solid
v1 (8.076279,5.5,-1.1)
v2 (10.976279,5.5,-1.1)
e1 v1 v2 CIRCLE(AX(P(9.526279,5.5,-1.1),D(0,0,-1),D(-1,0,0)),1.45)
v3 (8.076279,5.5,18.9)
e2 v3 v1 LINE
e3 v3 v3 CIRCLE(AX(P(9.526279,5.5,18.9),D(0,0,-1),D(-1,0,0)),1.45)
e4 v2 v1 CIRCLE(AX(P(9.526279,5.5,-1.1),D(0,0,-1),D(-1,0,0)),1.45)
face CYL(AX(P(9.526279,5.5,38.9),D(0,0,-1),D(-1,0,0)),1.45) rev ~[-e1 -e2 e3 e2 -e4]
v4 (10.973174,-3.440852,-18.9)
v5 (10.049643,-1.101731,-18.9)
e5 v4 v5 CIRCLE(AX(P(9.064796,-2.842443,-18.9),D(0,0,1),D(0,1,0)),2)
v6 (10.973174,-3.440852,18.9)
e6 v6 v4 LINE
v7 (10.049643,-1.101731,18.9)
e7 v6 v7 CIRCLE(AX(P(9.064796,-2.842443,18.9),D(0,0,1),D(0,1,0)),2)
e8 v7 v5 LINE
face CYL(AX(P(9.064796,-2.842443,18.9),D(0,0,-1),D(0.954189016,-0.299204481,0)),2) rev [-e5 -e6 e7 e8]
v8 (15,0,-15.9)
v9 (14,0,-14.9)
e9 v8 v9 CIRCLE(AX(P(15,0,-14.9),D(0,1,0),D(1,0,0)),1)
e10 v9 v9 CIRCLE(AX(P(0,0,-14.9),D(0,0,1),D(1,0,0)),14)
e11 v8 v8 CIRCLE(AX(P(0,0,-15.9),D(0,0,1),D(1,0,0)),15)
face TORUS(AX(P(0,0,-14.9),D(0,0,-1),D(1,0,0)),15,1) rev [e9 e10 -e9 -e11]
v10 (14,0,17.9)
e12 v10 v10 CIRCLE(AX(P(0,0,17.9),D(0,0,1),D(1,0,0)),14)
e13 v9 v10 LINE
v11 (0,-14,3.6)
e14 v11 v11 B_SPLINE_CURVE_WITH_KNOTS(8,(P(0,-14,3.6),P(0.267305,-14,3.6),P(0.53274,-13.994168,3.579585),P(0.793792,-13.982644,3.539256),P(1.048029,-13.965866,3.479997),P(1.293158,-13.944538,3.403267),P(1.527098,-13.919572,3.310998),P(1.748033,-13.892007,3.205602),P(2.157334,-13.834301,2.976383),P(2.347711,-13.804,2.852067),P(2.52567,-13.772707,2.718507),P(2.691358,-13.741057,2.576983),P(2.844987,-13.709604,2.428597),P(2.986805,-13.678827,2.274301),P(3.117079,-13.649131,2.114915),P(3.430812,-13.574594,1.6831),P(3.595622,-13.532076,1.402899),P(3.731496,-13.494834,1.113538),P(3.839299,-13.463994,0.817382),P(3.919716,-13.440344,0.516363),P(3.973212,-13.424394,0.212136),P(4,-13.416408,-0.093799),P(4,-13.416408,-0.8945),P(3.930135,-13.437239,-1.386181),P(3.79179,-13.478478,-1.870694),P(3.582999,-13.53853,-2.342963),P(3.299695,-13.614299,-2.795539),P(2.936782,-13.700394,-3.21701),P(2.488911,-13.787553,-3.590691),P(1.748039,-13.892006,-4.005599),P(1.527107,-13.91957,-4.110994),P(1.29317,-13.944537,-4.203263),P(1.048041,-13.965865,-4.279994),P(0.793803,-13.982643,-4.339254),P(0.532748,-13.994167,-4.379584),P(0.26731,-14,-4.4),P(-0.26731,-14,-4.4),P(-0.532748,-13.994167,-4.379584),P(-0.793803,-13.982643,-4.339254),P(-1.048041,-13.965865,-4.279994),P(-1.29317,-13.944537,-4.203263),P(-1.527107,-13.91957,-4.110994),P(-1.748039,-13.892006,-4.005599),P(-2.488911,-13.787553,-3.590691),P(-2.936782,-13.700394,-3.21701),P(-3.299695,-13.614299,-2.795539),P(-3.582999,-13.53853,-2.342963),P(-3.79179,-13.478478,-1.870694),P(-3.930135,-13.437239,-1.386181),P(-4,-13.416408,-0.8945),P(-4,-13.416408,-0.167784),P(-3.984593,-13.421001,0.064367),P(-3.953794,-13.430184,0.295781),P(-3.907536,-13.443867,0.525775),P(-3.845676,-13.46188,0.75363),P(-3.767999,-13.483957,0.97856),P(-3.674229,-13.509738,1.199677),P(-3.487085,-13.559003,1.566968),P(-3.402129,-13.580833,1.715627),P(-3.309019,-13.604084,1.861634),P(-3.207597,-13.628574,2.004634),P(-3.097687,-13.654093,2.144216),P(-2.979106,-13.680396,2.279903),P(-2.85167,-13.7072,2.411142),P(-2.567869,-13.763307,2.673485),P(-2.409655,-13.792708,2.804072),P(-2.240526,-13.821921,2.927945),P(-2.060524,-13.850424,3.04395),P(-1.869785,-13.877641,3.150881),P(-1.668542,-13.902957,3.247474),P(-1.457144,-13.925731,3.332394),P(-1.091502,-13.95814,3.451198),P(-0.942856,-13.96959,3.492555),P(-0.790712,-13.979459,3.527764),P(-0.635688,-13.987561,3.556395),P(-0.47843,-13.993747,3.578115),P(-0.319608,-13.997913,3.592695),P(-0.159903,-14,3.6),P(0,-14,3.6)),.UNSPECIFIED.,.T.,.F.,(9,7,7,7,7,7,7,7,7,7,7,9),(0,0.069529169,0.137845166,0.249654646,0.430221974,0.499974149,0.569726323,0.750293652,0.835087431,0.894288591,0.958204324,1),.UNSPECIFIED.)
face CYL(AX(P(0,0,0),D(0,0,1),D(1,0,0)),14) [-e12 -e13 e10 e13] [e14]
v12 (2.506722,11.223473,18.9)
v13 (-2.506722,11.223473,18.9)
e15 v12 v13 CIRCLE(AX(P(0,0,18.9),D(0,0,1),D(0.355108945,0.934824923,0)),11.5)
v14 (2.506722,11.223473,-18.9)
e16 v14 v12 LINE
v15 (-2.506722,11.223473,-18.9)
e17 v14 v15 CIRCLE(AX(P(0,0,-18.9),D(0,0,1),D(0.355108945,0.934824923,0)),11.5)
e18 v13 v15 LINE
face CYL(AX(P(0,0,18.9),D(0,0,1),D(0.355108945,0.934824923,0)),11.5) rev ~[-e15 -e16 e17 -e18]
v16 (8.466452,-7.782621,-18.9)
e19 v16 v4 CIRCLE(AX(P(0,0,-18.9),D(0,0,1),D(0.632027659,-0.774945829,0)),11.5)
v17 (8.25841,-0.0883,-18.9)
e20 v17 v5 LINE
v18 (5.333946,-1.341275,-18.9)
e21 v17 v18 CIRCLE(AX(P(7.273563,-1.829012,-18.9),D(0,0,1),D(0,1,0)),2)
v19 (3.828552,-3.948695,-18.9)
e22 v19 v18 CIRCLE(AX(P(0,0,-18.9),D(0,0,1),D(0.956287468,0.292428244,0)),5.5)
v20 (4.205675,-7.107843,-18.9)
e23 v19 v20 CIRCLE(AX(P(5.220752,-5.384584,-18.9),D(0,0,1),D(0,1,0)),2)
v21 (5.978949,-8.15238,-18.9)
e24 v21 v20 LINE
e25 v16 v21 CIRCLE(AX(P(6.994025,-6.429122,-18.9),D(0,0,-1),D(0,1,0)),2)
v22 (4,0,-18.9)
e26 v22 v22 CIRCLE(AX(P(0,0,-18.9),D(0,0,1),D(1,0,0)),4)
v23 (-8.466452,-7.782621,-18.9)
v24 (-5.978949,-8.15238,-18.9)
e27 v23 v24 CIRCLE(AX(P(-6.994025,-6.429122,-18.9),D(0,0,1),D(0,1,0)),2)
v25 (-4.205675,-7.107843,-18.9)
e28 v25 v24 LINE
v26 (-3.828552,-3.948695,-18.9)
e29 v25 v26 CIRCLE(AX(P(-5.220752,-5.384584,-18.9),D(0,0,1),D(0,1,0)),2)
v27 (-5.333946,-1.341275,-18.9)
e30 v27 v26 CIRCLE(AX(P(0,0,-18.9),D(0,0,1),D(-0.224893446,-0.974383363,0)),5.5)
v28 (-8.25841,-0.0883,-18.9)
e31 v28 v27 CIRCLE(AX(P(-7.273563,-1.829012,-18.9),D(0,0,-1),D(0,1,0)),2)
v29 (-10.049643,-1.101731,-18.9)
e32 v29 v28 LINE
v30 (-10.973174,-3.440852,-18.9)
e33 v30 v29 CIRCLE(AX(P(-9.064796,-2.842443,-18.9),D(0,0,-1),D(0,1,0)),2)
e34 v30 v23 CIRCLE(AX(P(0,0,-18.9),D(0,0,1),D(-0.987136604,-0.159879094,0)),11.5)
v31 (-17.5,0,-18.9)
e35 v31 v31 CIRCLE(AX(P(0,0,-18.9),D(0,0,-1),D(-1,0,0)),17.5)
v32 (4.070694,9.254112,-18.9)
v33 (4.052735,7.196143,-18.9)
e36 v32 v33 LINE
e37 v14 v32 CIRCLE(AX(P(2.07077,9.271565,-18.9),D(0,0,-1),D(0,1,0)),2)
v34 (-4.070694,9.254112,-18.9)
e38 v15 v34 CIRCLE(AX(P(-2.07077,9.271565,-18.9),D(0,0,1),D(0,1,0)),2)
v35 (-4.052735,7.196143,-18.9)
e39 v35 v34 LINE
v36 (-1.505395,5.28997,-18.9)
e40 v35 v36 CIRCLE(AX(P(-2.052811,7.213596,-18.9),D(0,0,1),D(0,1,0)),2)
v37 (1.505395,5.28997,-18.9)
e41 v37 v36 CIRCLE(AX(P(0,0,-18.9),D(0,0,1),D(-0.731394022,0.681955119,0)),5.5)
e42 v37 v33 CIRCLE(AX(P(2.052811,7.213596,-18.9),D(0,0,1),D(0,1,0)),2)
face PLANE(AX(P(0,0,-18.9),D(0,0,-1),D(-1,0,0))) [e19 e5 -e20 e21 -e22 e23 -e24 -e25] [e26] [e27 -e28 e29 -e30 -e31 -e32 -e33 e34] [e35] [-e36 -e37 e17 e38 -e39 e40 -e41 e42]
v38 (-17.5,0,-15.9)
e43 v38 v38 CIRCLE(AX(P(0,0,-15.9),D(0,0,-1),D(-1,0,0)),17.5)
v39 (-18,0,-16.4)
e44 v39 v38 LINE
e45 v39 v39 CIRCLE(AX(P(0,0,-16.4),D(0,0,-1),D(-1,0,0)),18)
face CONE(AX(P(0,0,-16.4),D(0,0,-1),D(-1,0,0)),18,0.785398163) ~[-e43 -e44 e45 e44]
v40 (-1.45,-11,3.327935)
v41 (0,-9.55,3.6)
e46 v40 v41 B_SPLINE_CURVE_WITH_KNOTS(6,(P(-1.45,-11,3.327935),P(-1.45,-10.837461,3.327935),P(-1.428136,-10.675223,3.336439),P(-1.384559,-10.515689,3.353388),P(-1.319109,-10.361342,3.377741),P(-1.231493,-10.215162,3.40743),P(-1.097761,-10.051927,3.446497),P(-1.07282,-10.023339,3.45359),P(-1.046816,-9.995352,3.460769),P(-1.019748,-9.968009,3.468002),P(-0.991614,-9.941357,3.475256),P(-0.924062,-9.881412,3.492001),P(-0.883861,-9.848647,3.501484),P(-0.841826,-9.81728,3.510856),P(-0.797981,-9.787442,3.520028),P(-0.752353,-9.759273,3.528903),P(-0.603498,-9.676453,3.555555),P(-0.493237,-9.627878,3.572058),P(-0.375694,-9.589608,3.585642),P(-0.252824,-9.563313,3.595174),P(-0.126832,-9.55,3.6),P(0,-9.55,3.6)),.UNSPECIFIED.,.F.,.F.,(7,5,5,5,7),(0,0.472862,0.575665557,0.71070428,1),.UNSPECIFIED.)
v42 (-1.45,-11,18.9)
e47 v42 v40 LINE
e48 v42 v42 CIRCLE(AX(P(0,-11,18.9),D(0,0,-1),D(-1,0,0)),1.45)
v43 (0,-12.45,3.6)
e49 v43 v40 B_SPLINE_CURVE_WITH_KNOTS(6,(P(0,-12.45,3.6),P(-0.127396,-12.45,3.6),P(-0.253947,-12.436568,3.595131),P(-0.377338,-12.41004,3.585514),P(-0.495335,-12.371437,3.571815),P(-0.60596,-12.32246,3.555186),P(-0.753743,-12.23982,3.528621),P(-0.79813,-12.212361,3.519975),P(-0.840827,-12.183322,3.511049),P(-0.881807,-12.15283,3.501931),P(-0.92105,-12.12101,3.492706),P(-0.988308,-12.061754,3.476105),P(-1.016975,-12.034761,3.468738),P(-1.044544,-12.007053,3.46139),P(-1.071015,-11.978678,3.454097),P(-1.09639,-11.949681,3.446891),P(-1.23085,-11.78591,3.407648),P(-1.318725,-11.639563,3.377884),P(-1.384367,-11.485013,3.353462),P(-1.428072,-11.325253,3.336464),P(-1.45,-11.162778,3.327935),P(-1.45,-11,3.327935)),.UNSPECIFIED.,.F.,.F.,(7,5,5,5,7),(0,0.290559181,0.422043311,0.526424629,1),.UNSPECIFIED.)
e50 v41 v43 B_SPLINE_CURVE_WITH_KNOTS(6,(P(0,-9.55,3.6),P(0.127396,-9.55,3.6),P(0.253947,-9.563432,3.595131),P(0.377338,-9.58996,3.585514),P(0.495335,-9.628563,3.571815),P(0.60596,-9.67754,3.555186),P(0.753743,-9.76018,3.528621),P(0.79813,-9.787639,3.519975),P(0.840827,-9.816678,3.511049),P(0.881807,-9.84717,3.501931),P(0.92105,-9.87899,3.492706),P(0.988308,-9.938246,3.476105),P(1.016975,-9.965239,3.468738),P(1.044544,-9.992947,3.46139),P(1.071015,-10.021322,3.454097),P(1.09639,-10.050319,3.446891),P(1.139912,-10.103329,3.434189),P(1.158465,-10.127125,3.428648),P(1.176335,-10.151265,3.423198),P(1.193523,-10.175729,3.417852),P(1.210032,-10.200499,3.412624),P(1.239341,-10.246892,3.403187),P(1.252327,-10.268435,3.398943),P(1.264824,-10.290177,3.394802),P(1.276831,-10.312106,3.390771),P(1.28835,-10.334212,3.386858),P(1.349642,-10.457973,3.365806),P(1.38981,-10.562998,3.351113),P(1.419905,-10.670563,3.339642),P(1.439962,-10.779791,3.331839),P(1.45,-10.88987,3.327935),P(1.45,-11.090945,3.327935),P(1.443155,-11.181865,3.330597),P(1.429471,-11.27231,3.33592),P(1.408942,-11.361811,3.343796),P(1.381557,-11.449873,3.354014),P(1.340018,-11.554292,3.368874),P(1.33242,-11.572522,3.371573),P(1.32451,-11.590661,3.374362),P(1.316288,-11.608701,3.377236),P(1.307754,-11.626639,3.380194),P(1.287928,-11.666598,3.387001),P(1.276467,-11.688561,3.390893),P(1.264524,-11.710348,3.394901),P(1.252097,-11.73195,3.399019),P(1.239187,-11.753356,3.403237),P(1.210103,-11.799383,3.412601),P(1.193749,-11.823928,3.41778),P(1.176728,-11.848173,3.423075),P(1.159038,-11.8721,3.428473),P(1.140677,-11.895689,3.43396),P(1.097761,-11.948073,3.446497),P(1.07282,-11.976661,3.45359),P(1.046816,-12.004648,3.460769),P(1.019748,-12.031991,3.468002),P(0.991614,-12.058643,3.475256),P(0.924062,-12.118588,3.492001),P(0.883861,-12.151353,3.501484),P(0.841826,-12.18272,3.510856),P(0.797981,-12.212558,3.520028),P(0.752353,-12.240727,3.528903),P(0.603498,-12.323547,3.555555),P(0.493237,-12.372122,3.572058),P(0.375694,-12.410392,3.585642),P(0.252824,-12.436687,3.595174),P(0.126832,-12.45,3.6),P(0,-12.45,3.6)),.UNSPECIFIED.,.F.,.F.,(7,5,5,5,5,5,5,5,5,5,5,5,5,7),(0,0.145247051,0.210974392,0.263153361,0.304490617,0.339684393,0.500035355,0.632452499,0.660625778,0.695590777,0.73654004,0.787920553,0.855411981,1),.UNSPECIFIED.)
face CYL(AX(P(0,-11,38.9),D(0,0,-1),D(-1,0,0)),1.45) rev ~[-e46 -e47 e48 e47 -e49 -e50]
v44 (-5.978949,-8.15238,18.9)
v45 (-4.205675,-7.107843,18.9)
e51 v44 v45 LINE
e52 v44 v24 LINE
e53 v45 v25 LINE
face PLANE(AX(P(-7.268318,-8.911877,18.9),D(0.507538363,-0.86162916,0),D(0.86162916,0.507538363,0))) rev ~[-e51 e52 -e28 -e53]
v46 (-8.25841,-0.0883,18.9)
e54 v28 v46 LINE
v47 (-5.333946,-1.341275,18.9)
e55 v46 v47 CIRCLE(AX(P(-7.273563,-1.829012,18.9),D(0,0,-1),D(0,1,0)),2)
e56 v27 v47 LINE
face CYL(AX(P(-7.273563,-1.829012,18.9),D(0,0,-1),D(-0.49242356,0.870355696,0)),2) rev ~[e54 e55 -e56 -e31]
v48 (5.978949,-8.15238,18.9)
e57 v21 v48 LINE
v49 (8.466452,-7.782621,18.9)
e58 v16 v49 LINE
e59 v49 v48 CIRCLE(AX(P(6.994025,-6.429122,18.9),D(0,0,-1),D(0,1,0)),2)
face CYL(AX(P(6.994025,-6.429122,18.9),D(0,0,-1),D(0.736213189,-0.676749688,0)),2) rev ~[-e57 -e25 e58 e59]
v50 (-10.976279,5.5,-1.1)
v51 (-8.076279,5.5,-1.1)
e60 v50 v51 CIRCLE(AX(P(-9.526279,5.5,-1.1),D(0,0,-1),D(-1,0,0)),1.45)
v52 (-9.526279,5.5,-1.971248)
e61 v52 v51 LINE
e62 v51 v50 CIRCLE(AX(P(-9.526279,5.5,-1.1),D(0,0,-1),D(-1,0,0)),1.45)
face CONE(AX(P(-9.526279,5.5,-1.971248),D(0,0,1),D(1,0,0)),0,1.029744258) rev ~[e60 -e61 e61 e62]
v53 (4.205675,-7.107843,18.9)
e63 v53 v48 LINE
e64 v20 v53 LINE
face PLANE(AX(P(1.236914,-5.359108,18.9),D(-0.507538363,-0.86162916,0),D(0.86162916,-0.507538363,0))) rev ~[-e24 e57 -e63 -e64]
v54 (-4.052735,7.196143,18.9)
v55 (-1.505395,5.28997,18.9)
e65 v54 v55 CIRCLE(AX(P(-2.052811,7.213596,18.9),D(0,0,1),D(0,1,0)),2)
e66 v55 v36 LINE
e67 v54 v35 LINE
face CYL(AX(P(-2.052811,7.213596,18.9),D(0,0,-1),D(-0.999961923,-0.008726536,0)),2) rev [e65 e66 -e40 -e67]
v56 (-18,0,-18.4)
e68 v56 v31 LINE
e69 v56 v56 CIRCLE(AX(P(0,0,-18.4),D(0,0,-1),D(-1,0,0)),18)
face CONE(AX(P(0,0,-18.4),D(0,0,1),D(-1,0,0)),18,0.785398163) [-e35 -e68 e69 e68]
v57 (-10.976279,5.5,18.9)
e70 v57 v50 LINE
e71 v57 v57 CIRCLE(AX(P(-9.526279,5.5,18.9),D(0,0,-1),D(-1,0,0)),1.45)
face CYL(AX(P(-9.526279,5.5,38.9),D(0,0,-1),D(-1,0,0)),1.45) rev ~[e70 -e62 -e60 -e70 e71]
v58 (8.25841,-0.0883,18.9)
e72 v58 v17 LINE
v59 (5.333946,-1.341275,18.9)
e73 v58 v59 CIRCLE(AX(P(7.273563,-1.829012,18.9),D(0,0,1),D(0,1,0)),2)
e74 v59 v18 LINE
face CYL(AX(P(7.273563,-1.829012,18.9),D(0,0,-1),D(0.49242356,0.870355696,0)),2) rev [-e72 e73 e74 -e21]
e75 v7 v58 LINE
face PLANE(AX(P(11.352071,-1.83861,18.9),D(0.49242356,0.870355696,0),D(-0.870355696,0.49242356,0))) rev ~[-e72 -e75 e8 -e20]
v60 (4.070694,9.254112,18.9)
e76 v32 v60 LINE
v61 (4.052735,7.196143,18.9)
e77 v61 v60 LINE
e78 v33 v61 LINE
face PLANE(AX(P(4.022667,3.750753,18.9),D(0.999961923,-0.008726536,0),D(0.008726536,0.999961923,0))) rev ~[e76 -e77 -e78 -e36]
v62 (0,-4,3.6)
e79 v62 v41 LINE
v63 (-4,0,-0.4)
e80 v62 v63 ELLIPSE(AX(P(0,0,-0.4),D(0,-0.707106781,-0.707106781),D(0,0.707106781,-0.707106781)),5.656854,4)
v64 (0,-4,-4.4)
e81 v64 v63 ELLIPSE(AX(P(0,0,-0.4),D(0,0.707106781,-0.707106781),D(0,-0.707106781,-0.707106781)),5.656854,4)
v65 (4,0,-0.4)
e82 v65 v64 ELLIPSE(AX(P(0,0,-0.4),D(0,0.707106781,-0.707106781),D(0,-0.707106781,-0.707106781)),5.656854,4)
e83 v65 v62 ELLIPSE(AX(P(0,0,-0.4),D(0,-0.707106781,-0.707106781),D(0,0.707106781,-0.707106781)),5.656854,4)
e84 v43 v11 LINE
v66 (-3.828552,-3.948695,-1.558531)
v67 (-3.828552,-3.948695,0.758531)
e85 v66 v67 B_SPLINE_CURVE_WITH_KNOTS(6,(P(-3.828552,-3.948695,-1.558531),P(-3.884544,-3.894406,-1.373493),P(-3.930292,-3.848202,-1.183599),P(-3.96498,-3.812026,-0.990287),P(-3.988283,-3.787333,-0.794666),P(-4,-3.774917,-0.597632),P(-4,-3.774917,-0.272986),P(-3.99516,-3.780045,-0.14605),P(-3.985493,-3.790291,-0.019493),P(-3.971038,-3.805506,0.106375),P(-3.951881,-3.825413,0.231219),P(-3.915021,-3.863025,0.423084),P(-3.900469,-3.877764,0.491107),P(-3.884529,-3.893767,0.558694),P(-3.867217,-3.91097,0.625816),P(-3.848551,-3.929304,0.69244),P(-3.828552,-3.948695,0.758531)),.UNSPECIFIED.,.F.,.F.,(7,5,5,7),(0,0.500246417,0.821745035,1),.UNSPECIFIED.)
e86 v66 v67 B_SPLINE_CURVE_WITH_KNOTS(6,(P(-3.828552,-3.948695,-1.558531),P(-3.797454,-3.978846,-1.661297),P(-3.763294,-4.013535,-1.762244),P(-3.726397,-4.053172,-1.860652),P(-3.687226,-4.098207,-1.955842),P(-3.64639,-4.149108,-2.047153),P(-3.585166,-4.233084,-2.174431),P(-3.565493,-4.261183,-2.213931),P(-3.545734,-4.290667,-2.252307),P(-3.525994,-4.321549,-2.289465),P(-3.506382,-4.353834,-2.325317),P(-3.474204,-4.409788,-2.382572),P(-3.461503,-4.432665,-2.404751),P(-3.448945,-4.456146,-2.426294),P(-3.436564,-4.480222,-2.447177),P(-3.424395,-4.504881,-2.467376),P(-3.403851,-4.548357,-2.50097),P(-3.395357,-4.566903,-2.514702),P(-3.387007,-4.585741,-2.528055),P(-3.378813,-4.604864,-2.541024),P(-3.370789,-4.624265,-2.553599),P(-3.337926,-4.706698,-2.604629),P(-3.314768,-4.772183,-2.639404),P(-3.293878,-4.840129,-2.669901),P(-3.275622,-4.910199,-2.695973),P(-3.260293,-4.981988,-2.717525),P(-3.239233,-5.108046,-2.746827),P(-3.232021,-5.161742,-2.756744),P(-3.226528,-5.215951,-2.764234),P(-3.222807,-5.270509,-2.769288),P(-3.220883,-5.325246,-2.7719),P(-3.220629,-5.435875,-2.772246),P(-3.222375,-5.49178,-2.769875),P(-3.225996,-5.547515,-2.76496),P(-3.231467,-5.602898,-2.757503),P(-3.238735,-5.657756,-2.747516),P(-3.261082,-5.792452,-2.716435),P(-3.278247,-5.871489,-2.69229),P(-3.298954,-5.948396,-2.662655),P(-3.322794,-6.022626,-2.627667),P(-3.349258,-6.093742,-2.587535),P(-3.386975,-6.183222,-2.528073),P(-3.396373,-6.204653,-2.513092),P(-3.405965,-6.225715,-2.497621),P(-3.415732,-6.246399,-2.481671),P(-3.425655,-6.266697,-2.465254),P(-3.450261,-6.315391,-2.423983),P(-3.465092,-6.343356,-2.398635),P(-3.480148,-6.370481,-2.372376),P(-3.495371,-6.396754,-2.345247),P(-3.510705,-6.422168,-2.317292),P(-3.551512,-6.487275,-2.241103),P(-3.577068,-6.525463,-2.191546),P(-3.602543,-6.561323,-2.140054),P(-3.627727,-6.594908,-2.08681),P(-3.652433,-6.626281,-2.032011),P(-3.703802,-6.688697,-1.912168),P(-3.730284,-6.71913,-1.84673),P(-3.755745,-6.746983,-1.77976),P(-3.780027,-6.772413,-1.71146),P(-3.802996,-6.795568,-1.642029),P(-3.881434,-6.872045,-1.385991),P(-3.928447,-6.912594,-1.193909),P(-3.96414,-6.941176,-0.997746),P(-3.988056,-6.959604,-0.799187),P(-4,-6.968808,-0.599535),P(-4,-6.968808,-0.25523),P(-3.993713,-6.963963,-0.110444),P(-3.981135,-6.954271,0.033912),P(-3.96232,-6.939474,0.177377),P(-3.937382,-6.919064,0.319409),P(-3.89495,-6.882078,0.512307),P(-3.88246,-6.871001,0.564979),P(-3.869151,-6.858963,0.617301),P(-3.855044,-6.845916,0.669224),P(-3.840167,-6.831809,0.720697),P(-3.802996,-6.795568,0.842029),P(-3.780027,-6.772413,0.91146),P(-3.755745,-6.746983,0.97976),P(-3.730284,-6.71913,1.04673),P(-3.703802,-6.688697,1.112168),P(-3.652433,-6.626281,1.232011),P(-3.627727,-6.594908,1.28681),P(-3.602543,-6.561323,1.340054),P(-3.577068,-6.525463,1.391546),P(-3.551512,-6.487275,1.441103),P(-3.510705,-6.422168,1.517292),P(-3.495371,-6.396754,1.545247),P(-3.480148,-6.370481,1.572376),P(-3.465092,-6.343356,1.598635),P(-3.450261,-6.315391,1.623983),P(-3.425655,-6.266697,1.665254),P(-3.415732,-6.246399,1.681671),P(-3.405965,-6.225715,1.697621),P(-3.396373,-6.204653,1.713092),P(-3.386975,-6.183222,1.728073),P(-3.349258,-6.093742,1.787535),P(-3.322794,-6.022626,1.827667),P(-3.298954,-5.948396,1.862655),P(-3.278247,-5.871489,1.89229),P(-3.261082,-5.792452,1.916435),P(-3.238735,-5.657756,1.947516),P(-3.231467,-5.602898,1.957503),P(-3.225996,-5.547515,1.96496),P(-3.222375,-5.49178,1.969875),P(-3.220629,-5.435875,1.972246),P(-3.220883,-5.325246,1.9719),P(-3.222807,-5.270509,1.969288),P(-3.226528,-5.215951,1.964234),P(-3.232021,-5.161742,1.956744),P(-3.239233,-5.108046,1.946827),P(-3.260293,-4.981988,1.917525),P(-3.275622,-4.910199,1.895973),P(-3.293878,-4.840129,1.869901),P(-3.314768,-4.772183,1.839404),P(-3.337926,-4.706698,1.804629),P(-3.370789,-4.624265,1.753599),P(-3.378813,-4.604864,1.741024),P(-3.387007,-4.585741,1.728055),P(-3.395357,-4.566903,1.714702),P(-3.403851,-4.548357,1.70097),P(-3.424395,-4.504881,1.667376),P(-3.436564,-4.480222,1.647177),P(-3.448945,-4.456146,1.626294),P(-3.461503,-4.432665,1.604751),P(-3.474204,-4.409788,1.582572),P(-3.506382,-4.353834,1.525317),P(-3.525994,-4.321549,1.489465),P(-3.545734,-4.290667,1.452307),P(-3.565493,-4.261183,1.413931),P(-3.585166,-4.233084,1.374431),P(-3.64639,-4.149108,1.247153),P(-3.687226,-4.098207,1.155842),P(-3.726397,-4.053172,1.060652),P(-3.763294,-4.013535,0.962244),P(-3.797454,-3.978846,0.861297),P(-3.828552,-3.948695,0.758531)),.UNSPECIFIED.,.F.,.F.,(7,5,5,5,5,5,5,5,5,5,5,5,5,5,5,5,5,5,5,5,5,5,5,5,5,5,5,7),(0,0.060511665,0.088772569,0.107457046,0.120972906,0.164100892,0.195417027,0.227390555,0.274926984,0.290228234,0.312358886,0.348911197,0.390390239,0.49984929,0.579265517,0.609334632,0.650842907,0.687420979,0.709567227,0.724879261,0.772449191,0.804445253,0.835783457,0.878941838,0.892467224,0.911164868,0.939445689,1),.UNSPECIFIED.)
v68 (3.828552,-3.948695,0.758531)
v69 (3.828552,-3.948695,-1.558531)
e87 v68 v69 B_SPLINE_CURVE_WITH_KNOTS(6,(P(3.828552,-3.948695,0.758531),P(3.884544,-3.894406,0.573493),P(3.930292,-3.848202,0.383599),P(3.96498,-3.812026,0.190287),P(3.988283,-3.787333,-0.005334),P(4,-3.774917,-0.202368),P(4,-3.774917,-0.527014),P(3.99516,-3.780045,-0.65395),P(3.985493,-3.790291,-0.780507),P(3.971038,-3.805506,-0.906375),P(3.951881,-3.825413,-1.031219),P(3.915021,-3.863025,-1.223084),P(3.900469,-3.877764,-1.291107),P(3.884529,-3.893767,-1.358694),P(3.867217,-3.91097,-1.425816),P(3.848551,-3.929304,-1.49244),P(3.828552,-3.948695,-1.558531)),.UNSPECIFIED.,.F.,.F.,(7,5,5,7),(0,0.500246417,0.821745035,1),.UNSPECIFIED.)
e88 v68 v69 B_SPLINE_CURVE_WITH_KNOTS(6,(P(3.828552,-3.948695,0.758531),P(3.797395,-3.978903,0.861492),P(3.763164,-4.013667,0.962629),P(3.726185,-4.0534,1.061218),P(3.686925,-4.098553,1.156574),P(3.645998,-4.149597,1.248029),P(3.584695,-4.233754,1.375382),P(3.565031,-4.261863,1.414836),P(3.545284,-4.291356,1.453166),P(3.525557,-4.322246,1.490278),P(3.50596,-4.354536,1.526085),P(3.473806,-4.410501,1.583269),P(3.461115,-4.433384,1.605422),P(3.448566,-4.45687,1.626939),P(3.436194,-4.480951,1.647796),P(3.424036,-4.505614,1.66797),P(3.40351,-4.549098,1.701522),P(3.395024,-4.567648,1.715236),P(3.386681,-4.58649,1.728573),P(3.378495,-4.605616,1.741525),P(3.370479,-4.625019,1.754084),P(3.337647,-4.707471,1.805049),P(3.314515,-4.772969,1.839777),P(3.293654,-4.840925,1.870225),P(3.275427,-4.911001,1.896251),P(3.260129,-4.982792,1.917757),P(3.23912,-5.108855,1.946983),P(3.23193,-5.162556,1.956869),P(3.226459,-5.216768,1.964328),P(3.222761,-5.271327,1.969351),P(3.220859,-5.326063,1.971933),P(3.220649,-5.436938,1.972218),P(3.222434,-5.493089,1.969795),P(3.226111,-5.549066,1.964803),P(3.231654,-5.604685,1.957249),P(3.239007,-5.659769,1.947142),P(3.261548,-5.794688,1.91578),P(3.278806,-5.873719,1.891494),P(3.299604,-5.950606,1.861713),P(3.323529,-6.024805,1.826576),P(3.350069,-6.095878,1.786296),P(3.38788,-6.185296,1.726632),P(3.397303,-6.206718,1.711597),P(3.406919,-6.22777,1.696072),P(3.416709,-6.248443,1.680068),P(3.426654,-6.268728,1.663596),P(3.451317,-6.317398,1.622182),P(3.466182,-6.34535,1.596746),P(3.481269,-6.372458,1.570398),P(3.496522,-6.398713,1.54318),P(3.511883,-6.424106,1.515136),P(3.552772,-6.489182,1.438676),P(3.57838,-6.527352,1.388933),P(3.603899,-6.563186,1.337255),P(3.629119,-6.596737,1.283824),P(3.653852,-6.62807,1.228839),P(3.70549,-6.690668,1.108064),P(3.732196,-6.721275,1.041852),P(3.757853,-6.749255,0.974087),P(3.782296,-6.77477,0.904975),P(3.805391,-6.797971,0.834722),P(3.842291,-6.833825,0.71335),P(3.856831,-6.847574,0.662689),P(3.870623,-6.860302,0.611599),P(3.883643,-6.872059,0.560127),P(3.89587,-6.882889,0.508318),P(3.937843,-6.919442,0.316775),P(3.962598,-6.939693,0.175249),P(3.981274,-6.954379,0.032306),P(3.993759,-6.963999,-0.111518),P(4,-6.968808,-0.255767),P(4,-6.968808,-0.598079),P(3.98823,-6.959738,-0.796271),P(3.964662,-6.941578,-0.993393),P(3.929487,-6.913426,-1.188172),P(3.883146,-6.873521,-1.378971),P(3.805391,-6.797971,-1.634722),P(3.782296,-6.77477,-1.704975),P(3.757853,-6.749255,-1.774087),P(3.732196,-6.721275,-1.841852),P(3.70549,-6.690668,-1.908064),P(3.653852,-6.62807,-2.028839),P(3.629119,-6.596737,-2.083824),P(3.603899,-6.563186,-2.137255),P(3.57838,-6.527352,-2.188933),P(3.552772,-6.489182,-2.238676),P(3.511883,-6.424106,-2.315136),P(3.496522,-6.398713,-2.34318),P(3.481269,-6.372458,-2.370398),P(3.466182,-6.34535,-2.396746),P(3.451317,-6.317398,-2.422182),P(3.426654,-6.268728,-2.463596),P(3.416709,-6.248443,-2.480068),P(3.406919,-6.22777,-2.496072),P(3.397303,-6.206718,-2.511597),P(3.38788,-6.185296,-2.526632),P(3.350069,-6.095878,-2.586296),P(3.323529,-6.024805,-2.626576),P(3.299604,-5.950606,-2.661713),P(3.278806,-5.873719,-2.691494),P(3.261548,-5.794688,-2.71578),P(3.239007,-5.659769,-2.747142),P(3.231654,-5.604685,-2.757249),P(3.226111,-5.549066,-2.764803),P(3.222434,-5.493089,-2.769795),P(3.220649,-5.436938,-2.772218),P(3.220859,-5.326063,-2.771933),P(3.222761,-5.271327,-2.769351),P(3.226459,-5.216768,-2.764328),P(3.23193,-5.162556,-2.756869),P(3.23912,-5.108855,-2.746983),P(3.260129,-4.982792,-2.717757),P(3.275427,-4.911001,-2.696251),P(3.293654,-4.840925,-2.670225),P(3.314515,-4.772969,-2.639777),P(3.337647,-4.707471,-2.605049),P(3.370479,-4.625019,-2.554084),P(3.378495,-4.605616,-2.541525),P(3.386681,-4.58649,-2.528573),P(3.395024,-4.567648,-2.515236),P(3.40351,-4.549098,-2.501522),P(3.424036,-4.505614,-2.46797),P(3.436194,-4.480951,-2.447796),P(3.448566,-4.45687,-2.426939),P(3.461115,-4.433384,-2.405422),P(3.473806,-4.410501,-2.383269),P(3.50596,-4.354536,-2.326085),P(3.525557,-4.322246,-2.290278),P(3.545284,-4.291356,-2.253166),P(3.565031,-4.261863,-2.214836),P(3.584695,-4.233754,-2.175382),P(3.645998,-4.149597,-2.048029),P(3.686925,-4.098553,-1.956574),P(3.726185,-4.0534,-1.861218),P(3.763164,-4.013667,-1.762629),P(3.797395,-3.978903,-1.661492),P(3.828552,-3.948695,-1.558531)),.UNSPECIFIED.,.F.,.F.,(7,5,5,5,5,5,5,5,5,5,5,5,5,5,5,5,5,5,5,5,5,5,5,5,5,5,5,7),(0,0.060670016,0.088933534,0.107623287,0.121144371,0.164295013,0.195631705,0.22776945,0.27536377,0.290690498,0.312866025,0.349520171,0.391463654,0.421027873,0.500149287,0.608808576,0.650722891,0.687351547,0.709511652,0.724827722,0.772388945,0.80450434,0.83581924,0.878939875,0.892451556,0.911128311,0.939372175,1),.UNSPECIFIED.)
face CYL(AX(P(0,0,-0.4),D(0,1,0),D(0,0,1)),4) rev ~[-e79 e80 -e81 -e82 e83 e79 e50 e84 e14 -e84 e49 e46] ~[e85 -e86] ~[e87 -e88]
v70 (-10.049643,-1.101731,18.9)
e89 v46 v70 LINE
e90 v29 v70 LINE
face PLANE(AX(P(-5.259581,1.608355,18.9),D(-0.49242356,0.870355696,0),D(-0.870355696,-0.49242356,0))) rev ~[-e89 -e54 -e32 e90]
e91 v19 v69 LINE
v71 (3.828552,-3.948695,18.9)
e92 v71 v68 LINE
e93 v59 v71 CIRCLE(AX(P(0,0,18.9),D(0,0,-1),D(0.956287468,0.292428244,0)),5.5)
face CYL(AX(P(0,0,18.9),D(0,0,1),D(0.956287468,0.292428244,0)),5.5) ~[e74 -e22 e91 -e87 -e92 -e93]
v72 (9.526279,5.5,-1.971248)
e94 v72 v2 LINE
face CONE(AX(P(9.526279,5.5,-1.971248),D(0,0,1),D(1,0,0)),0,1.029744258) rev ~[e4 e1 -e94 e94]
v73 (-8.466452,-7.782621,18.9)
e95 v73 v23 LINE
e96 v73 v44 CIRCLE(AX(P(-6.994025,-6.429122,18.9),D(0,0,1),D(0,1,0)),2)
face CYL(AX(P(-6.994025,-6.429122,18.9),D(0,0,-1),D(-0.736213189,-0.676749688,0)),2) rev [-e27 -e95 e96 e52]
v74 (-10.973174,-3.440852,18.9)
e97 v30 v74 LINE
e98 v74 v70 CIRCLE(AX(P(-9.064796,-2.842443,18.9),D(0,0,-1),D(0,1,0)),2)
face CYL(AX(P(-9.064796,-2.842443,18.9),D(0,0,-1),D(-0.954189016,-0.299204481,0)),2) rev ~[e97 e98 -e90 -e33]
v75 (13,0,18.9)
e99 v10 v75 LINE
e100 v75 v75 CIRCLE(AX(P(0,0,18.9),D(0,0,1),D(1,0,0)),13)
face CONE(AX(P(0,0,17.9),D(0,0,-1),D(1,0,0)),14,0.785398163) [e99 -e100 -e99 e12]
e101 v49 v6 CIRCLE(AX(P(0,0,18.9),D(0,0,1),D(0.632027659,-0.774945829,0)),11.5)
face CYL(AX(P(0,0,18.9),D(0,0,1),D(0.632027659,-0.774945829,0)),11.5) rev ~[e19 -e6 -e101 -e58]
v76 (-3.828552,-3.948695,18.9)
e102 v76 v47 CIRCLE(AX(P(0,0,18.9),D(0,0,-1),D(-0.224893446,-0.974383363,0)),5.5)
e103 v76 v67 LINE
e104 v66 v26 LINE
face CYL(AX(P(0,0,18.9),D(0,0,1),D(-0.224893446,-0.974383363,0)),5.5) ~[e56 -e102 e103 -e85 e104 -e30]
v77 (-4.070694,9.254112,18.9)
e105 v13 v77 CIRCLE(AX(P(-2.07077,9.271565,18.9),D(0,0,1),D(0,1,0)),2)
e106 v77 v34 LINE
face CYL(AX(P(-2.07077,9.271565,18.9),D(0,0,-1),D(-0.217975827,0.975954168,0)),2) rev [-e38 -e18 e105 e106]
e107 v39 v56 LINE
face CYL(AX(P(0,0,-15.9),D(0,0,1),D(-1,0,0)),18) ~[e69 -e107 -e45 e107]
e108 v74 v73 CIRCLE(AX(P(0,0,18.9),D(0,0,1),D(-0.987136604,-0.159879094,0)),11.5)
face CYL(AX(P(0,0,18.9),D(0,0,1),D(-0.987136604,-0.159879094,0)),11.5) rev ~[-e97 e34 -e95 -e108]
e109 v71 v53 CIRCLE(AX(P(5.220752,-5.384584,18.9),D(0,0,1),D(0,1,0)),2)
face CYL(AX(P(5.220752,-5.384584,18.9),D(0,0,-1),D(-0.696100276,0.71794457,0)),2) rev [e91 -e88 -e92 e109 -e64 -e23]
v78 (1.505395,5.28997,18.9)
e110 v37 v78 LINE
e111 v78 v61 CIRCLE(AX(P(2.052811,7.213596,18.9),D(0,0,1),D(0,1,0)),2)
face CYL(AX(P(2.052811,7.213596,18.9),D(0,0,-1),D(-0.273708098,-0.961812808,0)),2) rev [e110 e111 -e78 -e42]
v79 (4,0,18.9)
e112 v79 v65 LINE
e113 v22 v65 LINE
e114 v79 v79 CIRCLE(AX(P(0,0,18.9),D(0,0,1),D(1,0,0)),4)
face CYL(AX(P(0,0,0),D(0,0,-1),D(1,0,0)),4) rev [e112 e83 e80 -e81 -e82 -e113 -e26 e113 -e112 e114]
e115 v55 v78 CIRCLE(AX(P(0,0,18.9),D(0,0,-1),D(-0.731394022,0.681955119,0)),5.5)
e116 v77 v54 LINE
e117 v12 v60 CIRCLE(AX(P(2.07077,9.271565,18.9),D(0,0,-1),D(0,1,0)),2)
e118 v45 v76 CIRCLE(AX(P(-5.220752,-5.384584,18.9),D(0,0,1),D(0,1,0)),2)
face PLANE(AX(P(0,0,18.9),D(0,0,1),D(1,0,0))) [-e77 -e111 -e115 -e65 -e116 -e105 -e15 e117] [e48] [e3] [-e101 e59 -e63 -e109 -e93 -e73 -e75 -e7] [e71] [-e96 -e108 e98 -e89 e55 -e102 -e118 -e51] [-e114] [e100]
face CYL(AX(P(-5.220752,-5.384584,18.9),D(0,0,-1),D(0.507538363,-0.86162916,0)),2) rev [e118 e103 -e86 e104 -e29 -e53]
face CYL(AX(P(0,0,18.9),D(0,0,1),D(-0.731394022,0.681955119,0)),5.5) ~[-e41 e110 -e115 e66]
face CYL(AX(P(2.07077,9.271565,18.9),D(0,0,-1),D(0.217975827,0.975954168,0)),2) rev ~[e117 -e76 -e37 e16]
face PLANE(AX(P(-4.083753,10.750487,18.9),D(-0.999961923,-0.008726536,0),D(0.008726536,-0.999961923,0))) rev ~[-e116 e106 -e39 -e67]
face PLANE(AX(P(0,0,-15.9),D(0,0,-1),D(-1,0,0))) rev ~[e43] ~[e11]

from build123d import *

# Parameters (mm, degrees)
CROQUIS1_R                      = 14
CROQUIS1_R_2                    = 4
SALIENTE_EXTRUIR1_DEPTH         = 18.9
CHAFL_N1_SIZE                   = 1
CORTAR_EXTRUIR1_REACH           = 44.671
REDONDEO1_R                     = 2
MATRIZC1_COUNT                  = 3
REDONDEO1_OF_MATRIZC1_R         = 2
CROQUIS3_R                      = 4
CORTAR_EXTRUIR2_DEPTH           = 29
TALADRO_ROSCADO_M3_5X0_61_D     = 2.9
TALADRO_ROSCADO_M3_5X0_61_DEPTH = 20
TALADRO_ROSCADO_M3_5X0_61_TIP   = 0.871247898
SALIENTE_EXTRUIR2_START         = -3
CROQUIS6_R                      = 18
CROQUIS6_R_2                    = 4
SALIENTE_EXTRUIR2_DEPTH         = 3
CHAFL_N2_SIZE                   = 0.5
REDONDEO2_R                     = 1


with BuildPart() as part:
    # Croquis1 → Saliente-Extruir1 (new, symmetric)
    with BuildSketch(Plane(origin=(0, 0, 0), x_dir=(0, 1, 0), z_dir=(0, 0, 1))):
        with Locations(Location((0, 0, 0), (0, 0, 270))):
            Circle(CROQUIS1_R)
        with Locations(Location((0, 0, 0), (0, 0, 270))):
            Circle(CROQUIS1_R_2, mode=Mode.SUBTRACT)
    extrude(amount=SALIENTE_EXTRUIR1_DEPTH, both=True)

    # Chaflán1
    chafl_n1_edges = [part.edges().sort_by_distance(p)[0] for p in [
        (-14, 0, 18.9),
    ]]
    chamfer(chafl_n1_edges, length=CHAFL_N1_SIZE)

    # Croquis2 → Cortar-Extruir1 (cut, up to next)
    with BuildSketch(Plane.XY.offset(18.9), mode=Mode.PRIVATE) as cortar_extruir1_sk1:
        with BuildLine():
            Line((4.022667121, 3.750753155), (4.08375287, 10.750486617))
            ThreePointArc((4.08375287, 10.750486617), (0, 11.5), (-4.08375287, 10.750486617))
            Line((-4.08375287, 10.750486617), (-4.022667121, 3.750753155))
            ThreePointArc((-4.022667121, 3.750753155), (0, 5.5), (4.022667121, 3.750753155))
        make_face()
    cortar_extruir1_tool1 = extrude(cortar_extruir1_sk1.sketch, amount=-CORTAR_EXTRUIR1_REACH, mode=Mode.PRIVATE) & part.part
    cortar_extruir1 = cortar_extruir1_tool1.solids().sort_by_distance((0, 8.096632, 18.9))[0]
    add(cortar_extruir1, mode=Mode.SUBTRACT)

    # Redondeo1
    redondeo1_edges = [part.edges().sort_by_distance(p)[0] for p in [
        (4.022667121, 3.750753155, 0),
        (-4.022667121, 3.750753155, 0),
        (-4.08375287, 10.750486617, 0),
        (4.08375287, 10.750486617, 0),
    ]]
    fillet(redondeo1_edges, radius=REDONDEO1_R)

    # MatrizC1: Cortar-Extruir1 ×3 about axis
    matrizc1_axis = Axis((0, 0, 0), (0, 0, 1))
    for i in range(1, MATRIZC1_COUNT):
        add(cortar_extruir1.rotate(matrizc1_axis, i * 360 / MATRIZC1_COUNT), mode=Mode.SUBTRACT)

    # Redondeo1 of MatrizC1
    redondeo1_of_matrizc1_edges = [part.edges().sort_by_distance(p)[0] for p in [
        (-5.259581076, 1.60835534, 0),
        (-1.236913955, -5.359108496, 0),
        (-7.268318079, -8.911877036, 0),
        (-11.352070948, -1.838609581, 0),
        (1.236913955, -5.359108496, 0),
        (5.259581076, 1.60835534, 0),
        (11.352070948, -1.838609581, 0),
        (7.268318079, -8.911877036, 0),
    ]]
    fillet(redondeo1_of_matrizc1_edges, radius=REDONDEO1_OF_MATRIZC1_R)

    # Croquis3 → Cortar-Extruir2 (cut)
    with BuildSketch(Plane(origin=(0, 0, 0), x_dir=(-1, 0, 0), z_dir=(0, 1, 0))):
        with Locations(Location((0, -0.4, 0), (0, 0, 90))):
            Circle(CROQUIS3_R)
    extrude(amount=-CORTAR_EXTRUIR2_DEPTH, mode=Mode.SUBTRACT)

    # Taladro roscado M3.5x0.61
    with Locations(Plane.XY.offset(18.9)):
        with Locations((0, 0), (-9.526279442, 5.5), (9.526279442, 5.5), (0, -11)):
            Hole(TALADRO_ROSCADO_M3_5X0_61_D / 2, depth=TALADRO_ROSCADO_M3_5X0_61_DEPTH)
            with Locations((0, 0, -(TALADRO_ROSCADO_M3_5X0_61_DEPTH + TALADRO_ROSCADO_M3_5X0_61_TIP / 2))):  # 118° drill point
                Cone(0, TALADRO_ROSCADO_M3_5X0_61_D / 2, TALADRO_ROSCADO_M3_5X0_61_TIP, mode=Mode.SUBTRACT)

    # Croquis6 → Saliente-Extruir2 (add)
    with BuildSketch(Plane(origin=(0, 0, -18.9), x_dir=(1, 0, 0), z_dir=(0, 0, -1)).offset(SALIENTE_EXTRUIR2_START)):
        with Locations(Location((0, 0, 0), (0, 0, 180))):
            Circle(CROQUIS6_R)
        Circle(CROQUIS6_R_2, mode=Mode.SUBTRACT)
        with BuildLine():
            Line((-10.049642775, 1.101731175), (-8.258409927, 0.08830039))
            ThreePointArc((-8.258409927, 0.08830039), (-6.485918981, -0.009361739), (-5.333946058, 1.341275307))
            ThreePointArc((-5.333946058, 1.341275307), (-4.763139721, 2.75), (-3.828551518, 3.948695135))
            ThreePointArc((-3.828551518, 3.948695135), (-3.234851986, 5.621651474), (-4.205675344, 7.107842597))
            Line((-4.205675344, 7.107842597), (-5.978948573, 8.152380354))
            ThreePointArc((-5.978948573, 8.152380354), (-7.288087529, 8.407385768), (-8.466451677, 7.782621409))
            ThreePointArc((-8.466451677, 7.782621409), (-9.959292144, 5.75), (-10.973173687, 3.440851528))
            ThreePointArc((-10.973173687, 3.440851528), (-10.92505342, 2.107976061), (-10.049642775, 1.101731175))
        make_face(mode=Mode.SUBTRACT)
        with BuildLine():
            Line((5.978948573, 8.152380354), (4.205675344, 7.107842597))
            ThreePointArc((4.205675344, 7.107842597), (3.234851986, 5.621651474), (3.828551518, 3.948695135))
            ThreePointArc((3.828551518, 3.948695135), (4.763139721, 2.75), (5.333946058, 1.341275307))
            ThreePointArc((5.333946058, 1.341275307), (6.485918981, -0.009361739), (8.258409927, 0.08830039))
            Line((8.258409927, 0.08830039), (10.049642775, 1.101731175))
            ThreePointArc((10.049642775, 1.101731175), (10.92505342, 2.107976061), (10.973173687, 3.440851528))
            ThreePointArc((10.973173687, 3.440851528), (9.959292144, 5.75), (8.466451677, 7.782621409))
            ThreePointArc((8.466451677, 7.782621409), (7.288087529, 8.407385768), (5.978948573, 8.152380354))
        make_face(mode=Mode.SUBTRACT)
        with BuildLine():
            Line((-4.052734583, -7.196142986), (-4.070694202, -9.254111529))
            ThreePointArc((-4.070694202, -9.254111529), (-3.63696589, -10.51536183), (-2.50672201, -11.223472937))
            ThreePointArc((-2.50672201, -11.223472937), (0, -11.5), (2.50672201, -11.223472937))
            ThreePointArc((2.50672201, -11.223472937), (3.63696589, -10.51536183), (4.070694202, -9.254111529))
            Line((4.070694202, -9.254111529), (4.052734583, -7.196142986))
            ThreePointArc((4.052734583, -7.196142986), (3.251066995, -5.612289735), (1.50539454, -5.289970442))
            ThreePointArc((1.50539454, -5.289970442), (0, -5.5), (-1.50539454, -5.289970442))
            ThreePointArc((-1.50539454, -5.289970442), (-3.251066995, -5.612289735), (-4.052734583, -7.196142986))
        make_face(mode=Mode.SUBTRACT)
    extrude(amount=SALIENTE_EXTRUIR2_DEPTH)

    # Chaflán2
    chafl_n2_edges = [part.edges().sort_by_distance(p)[0] for p in [
        (18, 0, -18.9),
        (18, 0, -15.9),
    ]]
    chamfer(chafl_n2_edges, length=CHAFL_N2_SIZE)

    # Redondeo2
    redondeo2_edges = [part.edges().sort_by_distance(p)[0] for p in [
        (-14, 0, -15.9),
    ]]
    fillet(redondeo2_edges, radius=REDONDEO2_R)


solid = part.part
